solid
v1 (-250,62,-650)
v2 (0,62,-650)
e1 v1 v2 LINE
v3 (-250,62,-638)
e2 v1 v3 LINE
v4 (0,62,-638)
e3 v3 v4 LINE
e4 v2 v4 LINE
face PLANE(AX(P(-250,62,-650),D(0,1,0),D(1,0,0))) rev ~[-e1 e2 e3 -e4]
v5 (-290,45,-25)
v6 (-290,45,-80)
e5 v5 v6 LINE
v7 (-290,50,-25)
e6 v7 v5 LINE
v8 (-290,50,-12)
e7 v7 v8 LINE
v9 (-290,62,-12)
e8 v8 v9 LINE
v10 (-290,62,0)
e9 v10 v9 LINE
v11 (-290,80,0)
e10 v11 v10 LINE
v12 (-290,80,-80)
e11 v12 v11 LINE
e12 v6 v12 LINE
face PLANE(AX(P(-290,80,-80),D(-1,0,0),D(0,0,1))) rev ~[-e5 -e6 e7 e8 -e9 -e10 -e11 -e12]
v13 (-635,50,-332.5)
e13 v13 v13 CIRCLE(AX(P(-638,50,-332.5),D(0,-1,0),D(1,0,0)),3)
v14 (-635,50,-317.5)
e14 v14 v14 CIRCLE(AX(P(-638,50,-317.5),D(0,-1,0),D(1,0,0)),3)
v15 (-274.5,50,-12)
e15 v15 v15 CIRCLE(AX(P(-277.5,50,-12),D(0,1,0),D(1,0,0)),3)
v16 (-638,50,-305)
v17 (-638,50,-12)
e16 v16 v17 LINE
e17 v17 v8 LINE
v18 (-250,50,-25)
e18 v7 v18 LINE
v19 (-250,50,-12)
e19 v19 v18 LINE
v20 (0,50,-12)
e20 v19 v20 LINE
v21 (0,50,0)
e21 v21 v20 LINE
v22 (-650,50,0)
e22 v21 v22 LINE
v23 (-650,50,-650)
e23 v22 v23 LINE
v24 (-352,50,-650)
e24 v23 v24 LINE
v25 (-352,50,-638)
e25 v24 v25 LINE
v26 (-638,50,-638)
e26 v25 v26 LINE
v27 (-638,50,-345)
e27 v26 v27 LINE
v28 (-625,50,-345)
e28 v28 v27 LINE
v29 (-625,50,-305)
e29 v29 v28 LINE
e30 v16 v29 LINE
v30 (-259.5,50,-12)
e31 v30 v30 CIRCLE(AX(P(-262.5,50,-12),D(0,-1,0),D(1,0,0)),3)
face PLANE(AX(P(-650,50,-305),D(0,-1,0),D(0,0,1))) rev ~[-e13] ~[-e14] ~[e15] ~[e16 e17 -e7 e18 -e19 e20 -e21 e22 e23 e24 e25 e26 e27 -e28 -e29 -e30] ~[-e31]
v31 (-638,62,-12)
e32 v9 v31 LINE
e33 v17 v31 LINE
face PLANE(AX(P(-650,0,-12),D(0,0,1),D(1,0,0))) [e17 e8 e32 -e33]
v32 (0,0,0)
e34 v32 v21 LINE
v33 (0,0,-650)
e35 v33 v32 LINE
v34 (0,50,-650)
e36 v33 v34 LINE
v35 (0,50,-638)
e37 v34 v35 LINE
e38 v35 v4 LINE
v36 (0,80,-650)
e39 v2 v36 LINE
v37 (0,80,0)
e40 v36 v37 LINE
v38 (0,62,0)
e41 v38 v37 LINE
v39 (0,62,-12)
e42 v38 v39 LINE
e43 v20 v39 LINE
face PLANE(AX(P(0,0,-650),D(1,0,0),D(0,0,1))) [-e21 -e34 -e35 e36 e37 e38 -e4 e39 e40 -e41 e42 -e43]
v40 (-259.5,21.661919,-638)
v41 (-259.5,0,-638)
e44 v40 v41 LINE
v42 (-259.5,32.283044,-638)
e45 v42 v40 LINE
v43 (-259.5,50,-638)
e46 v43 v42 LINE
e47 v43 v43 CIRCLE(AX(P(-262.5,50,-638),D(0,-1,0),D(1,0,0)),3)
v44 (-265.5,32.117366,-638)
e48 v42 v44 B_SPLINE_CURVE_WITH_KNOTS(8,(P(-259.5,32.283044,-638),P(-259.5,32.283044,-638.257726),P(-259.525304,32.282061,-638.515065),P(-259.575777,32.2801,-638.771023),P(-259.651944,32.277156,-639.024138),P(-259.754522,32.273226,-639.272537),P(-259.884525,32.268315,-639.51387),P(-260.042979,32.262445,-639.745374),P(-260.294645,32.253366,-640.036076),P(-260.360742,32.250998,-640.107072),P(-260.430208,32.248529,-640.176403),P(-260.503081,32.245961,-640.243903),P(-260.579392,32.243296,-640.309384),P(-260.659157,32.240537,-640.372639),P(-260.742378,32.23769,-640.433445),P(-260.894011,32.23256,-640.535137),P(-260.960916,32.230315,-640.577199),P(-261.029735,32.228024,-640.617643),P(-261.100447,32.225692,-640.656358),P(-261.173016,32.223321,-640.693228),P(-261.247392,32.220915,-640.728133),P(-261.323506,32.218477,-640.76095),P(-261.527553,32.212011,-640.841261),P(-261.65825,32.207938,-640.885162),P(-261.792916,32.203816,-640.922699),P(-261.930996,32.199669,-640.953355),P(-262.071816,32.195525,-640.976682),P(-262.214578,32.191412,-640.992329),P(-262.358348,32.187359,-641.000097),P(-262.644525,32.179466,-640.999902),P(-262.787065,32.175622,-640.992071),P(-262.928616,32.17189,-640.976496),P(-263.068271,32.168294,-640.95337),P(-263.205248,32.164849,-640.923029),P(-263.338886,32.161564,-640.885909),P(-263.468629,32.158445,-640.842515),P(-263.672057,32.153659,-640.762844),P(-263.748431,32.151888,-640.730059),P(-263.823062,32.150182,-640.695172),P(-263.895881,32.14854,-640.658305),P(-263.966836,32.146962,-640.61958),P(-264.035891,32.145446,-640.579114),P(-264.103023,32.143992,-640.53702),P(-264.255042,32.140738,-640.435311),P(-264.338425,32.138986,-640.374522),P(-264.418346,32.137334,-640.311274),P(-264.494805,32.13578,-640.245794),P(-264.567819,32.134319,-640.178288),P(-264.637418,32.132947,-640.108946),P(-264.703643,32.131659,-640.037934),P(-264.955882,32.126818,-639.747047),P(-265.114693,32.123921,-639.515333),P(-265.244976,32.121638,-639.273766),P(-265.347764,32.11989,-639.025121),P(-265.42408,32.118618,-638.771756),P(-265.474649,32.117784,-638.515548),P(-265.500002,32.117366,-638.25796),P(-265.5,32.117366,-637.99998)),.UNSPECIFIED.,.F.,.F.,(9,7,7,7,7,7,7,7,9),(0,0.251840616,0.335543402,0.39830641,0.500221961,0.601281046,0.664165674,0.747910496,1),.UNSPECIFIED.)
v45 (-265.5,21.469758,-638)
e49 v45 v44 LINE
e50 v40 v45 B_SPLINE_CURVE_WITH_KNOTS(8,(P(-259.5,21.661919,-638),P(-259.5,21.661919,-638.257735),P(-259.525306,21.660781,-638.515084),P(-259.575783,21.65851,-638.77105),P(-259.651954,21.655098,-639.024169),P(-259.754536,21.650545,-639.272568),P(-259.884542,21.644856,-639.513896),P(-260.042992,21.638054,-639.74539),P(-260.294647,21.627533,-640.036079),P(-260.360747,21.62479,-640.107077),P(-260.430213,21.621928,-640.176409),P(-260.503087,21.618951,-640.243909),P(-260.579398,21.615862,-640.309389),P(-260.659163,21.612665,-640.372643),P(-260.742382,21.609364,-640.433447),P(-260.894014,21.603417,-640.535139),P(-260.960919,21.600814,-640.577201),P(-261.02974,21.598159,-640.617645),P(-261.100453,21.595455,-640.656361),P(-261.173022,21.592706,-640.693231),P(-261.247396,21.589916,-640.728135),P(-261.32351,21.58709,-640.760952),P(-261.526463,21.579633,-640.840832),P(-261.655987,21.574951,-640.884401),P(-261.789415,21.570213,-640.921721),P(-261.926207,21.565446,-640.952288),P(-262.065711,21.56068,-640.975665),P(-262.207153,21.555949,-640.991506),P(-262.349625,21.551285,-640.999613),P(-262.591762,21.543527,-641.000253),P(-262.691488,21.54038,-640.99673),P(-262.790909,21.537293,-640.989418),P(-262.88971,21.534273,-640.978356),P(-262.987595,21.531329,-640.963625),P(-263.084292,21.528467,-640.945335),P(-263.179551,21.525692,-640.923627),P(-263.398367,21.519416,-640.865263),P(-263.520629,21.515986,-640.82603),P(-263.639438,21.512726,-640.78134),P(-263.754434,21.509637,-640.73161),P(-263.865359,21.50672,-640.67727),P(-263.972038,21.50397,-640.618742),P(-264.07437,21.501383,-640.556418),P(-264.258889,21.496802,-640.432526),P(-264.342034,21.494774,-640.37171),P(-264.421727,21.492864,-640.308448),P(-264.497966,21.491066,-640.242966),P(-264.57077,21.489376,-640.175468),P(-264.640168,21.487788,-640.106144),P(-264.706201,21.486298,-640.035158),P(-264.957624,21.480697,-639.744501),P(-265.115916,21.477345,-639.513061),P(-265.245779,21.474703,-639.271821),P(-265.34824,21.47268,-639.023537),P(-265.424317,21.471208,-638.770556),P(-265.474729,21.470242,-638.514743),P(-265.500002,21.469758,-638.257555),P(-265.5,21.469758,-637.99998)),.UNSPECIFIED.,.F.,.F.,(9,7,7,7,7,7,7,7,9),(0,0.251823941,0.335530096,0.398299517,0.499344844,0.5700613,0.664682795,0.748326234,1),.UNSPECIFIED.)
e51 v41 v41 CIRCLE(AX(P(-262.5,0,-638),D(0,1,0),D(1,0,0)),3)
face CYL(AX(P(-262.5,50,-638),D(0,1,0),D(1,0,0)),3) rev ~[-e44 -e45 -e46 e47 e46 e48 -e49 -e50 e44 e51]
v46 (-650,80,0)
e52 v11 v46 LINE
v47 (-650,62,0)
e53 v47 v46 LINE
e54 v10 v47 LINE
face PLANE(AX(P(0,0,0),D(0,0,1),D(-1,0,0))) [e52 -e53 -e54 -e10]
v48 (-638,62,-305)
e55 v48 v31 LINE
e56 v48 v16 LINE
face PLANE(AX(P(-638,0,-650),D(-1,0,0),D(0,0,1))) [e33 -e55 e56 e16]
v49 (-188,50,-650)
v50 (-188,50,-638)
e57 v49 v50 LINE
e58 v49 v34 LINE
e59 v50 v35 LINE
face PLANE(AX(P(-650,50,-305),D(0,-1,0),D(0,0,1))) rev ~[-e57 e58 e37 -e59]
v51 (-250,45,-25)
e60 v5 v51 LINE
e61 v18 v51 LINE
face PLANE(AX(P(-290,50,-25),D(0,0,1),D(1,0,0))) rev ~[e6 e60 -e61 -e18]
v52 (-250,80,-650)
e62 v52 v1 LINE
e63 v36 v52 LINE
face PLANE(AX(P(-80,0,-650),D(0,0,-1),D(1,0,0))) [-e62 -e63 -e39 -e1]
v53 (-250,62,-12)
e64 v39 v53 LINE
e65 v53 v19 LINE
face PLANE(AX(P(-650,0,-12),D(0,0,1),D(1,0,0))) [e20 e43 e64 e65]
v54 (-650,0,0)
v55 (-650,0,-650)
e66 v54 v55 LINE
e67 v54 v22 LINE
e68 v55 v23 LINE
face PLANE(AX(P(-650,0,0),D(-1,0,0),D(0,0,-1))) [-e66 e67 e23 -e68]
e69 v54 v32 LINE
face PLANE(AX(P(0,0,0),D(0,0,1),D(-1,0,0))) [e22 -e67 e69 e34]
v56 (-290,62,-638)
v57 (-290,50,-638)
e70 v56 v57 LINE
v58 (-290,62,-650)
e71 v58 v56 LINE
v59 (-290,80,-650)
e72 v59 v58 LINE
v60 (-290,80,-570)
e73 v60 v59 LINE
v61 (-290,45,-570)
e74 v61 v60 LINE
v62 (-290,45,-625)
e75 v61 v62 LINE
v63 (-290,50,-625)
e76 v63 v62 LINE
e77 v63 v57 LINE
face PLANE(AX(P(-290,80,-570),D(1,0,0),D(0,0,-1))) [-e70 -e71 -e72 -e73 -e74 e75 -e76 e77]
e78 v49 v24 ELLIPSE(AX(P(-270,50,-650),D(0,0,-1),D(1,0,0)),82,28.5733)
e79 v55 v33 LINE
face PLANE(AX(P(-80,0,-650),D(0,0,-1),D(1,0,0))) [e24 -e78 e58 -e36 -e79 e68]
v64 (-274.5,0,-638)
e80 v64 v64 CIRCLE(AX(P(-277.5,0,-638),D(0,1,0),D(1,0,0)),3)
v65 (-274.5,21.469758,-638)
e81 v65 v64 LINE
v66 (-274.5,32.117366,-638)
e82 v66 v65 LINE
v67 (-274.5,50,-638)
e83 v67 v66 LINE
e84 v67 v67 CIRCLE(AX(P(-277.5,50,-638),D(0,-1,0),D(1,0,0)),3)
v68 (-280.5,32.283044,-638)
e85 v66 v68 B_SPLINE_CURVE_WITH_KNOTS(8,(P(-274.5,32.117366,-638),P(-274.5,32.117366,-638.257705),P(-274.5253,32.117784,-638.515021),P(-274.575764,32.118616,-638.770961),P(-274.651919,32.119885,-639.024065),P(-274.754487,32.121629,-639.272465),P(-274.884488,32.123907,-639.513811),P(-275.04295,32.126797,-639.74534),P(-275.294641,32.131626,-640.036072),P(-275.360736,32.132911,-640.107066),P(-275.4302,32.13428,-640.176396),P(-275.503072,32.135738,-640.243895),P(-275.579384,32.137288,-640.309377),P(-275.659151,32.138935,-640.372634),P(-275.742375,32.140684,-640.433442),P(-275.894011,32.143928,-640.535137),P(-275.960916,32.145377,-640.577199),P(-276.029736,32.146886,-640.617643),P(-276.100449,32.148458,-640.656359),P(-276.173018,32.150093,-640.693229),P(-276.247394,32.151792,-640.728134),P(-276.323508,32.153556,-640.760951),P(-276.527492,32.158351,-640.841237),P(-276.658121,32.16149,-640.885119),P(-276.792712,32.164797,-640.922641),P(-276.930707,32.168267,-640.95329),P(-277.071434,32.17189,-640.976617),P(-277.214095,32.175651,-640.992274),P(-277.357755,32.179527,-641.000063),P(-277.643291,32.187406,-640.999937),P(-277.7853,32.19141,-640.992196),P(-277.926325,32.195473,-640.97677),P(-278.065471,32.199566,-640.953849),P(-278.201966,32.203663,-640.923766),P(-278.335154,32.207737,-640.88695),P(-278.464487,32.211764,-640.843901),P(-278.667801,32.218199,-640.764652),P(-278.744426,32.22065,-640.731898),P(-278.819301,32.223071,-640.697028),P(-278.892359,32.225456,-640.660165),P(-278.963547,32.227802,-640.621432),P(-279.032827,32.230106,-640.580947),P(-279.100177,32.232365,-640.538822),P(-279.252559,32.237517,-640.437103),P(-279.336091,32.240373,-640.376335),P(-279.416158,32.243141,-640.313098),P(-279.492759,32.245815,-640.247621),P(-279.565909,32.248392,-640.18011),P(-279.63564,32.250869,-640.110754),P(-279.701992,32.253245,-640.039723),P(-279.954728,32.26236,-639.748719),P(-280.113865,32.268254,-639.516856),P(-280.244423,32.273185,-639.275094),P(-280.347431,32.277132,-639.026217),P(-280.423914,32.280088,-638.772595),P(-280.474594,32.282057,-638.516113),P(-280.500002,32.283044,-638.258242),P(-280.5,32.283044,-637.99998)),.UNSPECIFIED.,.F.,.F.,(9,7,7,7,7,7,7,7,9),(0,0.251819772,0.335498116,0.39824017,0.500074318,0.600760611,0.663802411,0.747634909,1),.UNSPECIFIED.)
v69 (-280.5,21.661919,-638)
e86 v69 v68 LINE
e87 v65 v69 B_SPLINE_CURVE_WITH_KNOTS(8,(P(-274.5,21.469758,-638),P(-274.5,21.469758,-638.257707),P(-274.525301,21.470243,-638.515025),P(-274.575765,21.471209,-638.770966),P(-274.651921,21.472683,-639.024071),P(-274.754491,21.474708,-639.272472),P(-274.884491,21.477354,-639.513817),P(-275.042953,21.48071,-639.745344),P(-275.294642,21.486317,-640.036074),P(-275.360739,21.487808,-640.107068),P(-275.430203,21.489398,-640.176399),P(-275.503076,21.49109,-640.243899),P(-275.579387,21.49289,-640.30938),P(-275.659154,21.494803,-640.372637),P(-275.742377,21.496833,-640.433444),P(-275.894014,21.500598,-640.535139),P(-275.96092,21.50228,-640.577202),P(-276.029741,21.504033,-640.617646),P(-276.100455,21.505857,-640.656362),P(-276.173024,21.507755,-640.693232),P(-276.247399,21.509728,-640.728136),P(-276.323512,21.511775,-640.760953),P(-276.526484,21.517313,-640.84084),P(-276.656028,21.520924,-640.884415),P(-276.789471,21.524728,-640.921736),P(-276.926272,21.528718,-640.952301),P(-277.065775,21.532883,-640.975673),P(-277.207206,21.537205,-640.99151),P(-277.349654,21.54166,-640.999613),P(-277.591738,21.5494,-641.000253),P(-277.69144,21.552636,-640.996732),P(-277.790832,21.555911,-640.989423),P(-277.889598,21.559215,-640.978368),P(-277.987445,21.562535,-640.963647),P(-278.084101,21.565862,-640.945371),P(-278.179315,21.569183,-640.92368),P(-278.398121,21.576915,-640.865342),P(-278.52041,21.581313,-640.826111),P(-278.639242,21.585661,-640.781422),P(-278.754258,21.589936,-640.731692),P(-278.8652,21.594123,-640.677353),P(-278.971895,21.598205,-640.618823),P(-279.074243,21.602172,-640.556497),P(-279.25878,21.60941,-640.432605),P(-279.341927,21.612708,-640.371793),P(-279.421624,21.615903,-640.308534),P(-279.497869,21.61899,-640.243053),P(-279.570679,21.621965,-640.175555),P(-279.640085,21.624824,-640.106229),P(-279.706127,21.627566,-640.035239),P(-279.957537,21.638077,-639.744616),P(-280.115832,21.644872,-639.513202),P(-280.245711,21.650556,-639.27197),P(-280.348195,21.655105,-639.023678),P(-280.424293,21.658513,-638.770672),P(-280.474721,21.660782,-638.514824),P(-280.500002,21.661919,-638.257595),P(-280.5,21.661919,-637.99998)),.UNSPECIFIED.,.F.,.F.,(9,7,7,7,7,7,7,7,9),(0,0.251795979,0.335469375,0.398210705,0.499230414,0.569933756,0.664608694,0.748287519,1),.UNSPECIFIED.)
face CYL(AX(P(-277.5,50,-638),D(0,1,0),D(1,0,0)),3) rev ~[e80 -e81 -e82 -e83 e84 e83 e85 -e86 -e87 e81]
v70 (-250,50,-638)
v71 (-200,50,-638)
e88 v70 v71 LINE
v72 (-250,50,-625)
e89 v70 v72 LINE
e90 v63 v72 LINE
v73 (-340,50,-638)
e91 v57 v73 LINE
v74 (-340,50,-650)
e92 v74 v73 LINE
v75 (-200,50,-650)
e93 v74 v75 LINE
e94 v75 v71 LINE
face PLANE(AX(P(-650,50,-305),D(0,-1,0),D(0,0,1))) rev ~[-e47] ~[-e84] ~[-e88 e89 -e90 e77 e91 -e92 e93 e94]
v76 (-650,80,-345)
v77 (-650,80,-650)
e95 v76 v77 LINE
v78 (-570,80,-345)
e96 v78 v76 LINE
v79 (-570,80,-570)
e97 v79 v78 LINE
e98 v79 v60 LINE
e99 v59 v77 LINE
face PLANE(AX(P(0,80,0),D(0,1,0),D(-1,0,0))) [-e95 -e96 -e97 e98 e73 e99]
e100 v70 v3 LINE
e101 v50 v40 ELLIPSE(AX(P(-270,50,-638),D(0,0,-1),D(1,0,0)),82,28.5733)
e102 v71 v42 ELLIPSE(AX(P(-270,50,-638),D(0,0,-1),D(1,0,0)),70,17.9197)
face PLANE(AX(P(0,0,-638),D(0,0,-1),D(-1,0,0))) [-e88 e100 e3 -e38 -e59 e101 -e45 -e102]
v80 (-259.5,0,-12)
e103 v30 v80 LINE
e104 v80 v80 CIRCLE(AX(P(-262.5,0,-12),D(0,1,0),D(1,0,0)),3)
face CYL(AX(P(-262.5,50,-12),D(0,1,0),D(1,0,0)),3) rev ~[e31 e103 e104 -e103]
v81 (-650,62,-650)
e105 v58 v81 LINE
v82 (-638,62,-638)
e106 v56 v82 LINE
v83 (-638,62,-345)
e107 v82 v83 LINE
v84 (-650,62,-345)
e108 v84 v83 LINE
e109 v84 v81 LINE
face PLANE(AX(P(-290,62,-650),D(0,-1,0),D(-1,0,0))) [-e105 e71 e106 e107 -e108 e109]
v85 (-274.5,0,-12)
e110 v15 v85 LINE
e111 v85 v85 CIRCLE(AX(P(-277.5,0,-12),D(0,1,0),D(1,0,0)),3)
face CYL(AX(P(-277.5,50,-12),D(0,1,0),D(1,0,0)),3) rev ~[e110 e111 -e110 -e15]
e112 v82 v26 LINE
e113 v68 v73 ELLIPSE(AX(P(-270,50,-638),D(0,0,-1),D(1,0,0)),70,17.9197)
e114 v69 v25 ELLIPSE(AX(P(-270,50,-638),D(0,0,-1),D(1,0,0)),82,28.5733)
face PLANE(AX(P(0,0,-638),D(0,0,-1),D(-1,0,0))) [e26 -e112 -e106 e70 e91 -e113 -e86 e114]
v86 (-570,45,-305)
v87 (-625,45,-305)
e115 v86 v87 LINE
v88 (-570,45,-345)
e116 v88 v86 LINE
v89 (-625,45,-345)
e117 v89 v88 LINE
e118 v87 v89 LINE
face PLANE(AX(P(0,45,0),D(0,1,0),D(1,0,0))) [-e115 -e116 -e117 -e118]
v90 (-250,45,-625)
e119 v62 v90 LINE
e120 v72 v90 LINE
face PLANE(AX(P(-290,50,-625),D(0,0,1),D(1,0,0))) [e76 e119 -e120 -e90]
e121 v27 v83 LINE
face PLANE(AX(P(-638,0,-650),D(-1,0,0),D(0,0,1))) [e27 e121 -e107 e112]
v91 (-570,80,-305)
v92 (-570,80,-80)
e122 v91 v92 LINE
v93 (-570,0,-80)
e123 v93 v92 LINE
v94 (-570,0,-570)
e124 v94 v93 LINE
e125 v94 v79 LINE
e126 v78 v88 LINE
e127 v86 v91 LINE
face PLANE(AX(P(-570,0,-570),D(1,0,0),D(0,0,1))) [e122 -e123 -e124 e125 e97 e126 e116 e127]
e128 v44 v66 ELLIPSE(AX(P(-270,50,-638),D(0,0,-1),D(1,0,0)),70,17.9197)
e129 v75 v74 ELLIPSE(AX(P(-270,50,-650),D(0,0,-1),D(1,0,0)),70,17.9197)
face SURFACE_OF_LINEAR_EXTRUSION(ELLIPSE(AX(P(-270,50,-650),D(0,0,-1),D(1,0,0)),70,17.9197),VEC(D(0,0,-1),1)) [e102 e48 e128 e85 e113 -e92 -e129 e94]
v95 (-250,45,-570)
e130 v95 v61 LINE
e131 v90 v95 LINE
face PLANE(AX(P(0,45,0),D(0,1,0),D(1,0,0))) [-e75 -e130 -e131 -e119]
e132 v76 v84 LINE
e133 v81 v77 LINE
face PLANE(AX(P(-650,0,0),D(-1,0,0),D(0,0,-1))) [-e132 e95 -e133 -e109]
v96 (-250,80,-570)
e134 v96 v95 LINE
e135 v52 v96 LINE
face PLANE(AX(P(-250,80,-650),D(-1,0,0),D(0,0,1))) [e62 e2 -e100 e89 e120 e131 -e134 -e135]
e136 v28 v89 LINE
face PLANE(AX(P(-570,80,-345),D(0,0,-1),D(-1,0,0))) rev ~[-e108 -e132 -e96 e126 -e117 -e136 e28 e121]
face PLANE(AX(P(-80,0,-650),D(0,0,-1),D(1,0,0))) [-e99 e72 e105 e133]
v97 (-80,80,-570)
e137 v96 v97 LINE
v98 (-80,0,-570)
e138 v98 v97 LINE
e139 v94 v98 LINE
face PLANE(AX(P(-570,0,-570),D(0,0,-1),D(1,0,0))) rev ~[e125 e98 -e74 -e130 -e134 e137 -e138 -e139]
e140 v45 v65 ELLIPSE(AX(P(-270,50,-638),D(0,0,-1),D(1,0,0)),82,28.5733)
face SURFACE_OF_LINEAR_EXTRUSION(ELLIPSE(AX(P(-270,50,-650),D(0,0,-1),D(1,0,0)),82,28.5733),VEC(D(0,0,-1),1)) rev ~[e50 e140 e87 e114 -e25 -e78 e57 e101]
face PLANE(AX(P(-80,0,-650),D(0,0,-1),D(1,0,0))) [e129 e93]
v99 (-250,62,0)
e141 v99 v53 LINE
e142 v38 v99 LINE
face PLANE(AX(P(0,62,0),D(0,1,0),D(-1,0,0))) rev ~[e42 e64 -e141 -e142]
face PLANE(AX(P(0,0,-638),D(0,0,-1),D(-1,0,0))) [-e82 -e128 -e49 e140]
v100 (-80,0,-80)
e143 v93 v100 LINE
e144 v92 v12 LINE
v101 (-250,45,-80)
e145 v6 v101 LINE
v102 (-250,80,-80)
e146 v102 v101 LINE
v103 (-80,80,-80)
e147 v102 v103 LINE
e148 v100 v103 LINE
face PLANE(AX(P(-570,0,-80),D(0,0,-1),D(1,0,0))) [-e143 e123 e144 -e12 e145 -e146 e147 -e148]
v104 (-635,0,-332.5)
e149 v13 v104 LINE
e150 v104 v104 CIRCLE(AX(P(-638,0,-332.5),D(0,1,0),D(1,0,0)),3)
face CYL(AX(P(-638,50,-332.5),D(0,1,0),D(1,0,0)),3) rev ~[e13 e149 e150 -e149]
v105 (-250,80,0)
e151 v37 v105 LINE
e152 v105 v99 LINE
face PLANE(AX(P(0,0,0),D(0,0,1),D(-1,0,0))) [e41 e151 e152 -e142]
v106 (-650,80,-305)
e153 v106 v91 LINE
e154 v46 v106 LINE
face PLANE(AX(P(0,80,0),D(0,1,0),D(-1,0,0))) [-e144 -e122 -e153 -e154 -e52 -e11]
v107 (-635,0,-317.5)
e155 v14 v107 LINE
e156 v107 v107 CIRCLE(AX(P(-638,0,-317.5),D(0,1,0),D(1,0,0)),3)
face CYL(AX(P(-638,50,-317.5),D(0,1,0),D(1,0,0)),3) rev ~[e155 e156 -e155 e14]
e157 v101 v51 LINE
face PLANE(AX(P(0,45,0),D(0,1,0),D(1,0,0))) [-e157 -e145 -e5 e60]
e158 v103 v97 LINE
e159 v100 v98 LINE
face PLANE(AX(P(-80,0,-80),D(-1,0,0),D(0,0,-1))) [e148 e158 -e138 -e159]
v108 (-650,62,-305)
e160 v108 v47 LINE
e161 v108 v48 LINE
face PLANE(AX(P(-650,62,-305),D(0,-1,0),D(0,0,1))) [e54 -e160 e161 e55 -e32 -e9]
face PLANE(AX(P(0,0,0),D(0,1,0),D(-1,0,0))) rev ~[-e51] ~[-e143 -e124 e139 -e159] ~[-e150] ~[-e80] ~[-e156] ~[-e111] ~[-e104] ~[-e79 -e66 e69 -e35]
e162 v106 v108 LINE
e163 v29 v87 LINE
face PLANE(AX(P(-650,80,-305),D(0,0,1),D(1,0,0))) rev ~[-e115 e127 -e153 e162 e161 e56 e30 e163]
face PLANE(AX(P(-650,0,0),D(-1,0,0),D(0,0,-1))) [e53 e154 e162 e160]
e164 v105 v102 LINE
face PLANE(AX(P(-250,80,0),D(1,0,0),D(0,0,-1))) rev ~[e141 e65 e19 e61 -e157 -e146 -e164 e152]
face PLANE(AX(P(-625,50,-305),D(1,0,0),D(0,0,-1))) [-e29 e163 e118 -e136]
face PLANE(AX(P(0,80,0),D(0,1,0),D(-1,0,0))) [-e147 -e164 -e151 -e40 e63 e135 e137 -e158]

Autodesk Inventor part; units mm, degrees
ref_plane "YZ Plane" through (0, 0, 0) normal (1, 0, 0) x (0, 1, 0)
ref_plane "XZ Plane" through (0, 0, 0) normal (0, 1, 0) x (-1, 0, 0)
ref_plane "XY Plane" through (0, 0, 0) normal (0, 0, 1) x (1, 0, 0)
sketch "Skizze1" plane through (0, 0, 0) normal (0, 1, 0) x (-1, 0, 0)
  line L0 (0, 0) -> (80, 0)
  line L1 (80, 0) -> (80, -650)
  line L2 (80, -650) -> (0, -650)
  line L3 (0, -650) -> (0, 0)
  line L4 (80, -570) -> (80, -650)
  line L5 (80, -650) -> (570, -650)
  line L6 (570, -650) -> (570, -570)
  line L7 (570, -570) -> (80, -570)
  line L8 (80, -570) -> (80, -650)
  line L9 (80, 0) -> (570, 0)
  line L10 (570, 0) -> (570, -80)
  line L11 (570, -80) -> (80, -80)
  line L12 (80, -80) -> (80, 0)
  line L13 (570, 0) -> (650, 0)
  line L14 (650, 0) -> (650, -650)
  line L15 (650, -650) -> (570, -650)
  line L16 (570, -650) -> (570, 0)
  dimension "d0" = 80
  dimension "d1" = 650
  dimension "d4" = 490
  dimension "d5" = 80
  dimension "d6" = 80
  dimension "d7" = 80
extrude "Extrusion1" add sketch "Skizze1" along normal blind 80 contours L0 L1 L2 L3 | L9 L10 L11 L1 | L13 L14 L15 L6 L16 L10 | L1 L7 L6 L5
sketch "Skizze2" plane through (0, 80, 0) normal (0, 1, 0) x (1, 0, 0)
  line L0 (0, 0) -> (0, 650) projected
  line L1 (0, 650) -> (-650, 650) projected
  line L2 (-650, 650) -> (-650, 0) projected
  line L3 (-650, 0) -> (0, 0) projected
  line L4 (-80, 80) -> (-570, 80) projected
  line L5 (-570, 80) -> (-570, 570) projected
  line L6 (-570, 570) -> (-80, 570) projected
  line L7 (-80, 570) -> (-80, 80) projected
  line L8 (-490, 305) -> (-490, 345)
  line L9 (-490, 345) -> (-650, 345)
  line L10 (-650, 345) -> (-650, 305)
  line L11 (-650, 305) -> (-490, 305)
  line L12 (-570, 80) -> (-570, 570) projected
  line L13 (-490, 305) -> (-650, 345) construction
  line L14 (-490, 345) -> (-650, 305) construction
  line L15 (-80, 80) -> (-570, 80) projected
  line L16 (-570, 80) -> (-270, 80)
  line L17 (-250, 160) -> (-290, 160)
  line L18 (-290, 160) -> (-290, 0)
  line L19 (-290, 0) -> (-250, 0)
  line L20 (-250, 0) -> (-250, 160)
  line L21 (-250, 160) -> (-290, 0) construction
  line L22 (-290, 160) -> (-250, 0) construction
  line L23 (-650, 325) -> (0, 325)
  line L24 (-250, 490) -> (-290, 490)
  line L25 (-290, 490) -> (-290, 650)
  line L26 (-250, 650) -> (-250, 490)
  line L27 (-290, 650) -> (-250, 650)
  point P0 (-570, 325)
  point P1 (-250, 570)
  point P2 (-290, 570)
  point P3 (-570, 345)
  point P4 (-570, 305)
  point P5 (-250, 80)
  point P6 (-290, 80)
  dimension "d10" = 40
  dimension "d11" = 300
  dimension "d12" = 40
extrude "Extrusion2" cut sketch "Skizze2" against normal blind 30 contours L3 L18 L4 L20 | L26 L6 L25 L1 | L23 L2 L9 L5 | L5 L11 L2 L23
sketch "Skizze3" plane through (0, 50, 0) normal (0, 1, 0) x (1, 0, 0)
  line L0 (-290, 80) -> (-250, 80) projected
  line L1 (-290, 0) -> (-290, 80) projected
  line L2 (-250, 0) -> (-290, 0) projected
  line L3 (-250, 80) -> (-250, 0) projected
  line L4 (-290, 650) -> (-250, 650) projected
  line L5 (-290, 570) -> (-290, 650) projected
  line L6 (-250, 570) -> (-290, 570) projected
  line L7 (-250, 650) -> (-250, 570) projected
  line L8 (-650, 345) -> (-570, 345) projected
  line L9 (-650, 305) -> (-650, 345) projected
  line L10 (-570, 305) -> (-650, 305) projected
  line L11 (-570, 345) -> (-570, 305) projected
  line L12 (-650, 305) -> (-625, 305)
  line L13 (-570, 305) -> (-650, 305) projected
  line L14 (-625, 305) -> (-625, 345)
  line L15 (-290, 650) -> (-290, 625)
  line L16 (-290, 570) -> (-290, 650) projected
  line L17 (-290, 625) -> (-250, 625)
  line L18 (-290, 0) -> (-290, 25)
  line L19 (-290, 25) -> (-250, 25)
  point P0 (0, 0)
  dimension "d15" = 25
  dimension "d16" = 25
  dimension "d17" = 25
extrude "Extrusion3" cut sketch "Skizze3" against normal blind 5 contours L0 L3 L19 L1 | L17 L7 L6 L5 | L8 L11 L10 L14
sketch "Skizze4" plane through (0, 0, -650) normal (0, 0, -1) x (-1, 0, 0)
  line L0 (290, 80) -> (290, 50) projected
  line L1 (290, 50) -> (250, 50) projected
  line L2 (250, 50) -> (250, 80) projected
  line L3 (0, 80) -> (250, 80) projected
  line L4 (0, 0) -> (0, 80) projected
  line L5 (0, 0) -> (650, 0) projected
  line L6 (650, 0) -> (650, 80) projected
  line L7 (290, 80) -> (650, 80) projected
  line L8 (250, 50) -> (250, 45) projected
  line L9 (250, 50) -> (0, 50)
  line L10 (0, 0) -> (0, 80) projected
  line L11 (290, 50) -> (250, 50) projected
  line L12 (250, 50) -> (250, 62)
  line L13 (250, 62) -> (0, 62)
  line L14 (290, 50) -> (650, 50)
  line L15 (290, 62) -> (650, 62)
  dimension "d20" = 12
extrude "Extrusion4" cut sketch "Skizze4" against normal blind 12 contours L15 L6 L14 L0 | L9 L4 L13 L2
sketch "Skizze5" plane through (-650, 0, -650) normal (-1, 0, 0) x (0, 0, 1)
  line L0 (12, 50) -> (0, 50) projected
  line L1 (0, 0) -> (0, 50) projected
  line L2 (0, 0) -> (650, 0) projected
  line L3 (650, 0) -> (650, 80) projected
  line L4 (345, 80) -> (650, 80) projected
  line L5 (345, 80) -> (345, 50) projected
  line L6 (345, 50) -> (305, 50) projected
  line L7 (305, 50) -> (305, 80) projected
  line L8 (0, 80) -> (305, 80) projected
  line L9 (0, 62) -> (0, 80) projected
  line L10 (0, 62) -> (12, 62) projected
  line L11 (12, 62) -> (12, 50) projected
  line L12 (12, 50) -> (650, 50)
  line L13 (12, 62) -> (650, 62)
  point P0 (345, 62)
  point P1 (305, 62)
extrude "Extrusion5" cut sketch "Skizze5" against normal blind 12 contours L11 L13 L7 L12 | L5 L13 L3 L12
sketch "Skizze6" plane through (-650, 0, 0) normal (0, 0, 1) x (1, 0, 0)
  line L0 (12, 50) -> (12, 62) projected
  line L1 (12, 50) -> (650, 50)
  line L2 (360, 62) -> (12, 62) projected
  line L3 (650, 62) -> (400, 62) projected
  line L4 (12, 50) -> (0, 50) projected
  line L5 (0, 0) -> (0, 50) projected
  line L6 (0, 0) -> (650, 0) projected
  line L7 (650, 0) -> (650, 80) projected
  line L8 (400, 80) -> (650, 80) projected
  line L9 (400, 80) -> (400, 50) projected
  line L10 (400, 50) -> (360, 50) projected
  line L11 (360, 50) -> (360, 80) projected
  line L12 (0, 80) -> (360, 80) projected
  line L13 (0, 62) -> (0, 80) projected
  line L14 (0, 62) -> (12, 62) projected
  line L15 (12, 62) -> (12, 50) projected
extrude "Extrusion6" cut sketch "Skizze6" against normal blind 12 contours L0 L2 L11 L1 | L9 L3 L7 L1
sketch "Skizze7" plane through (0, 0, -650) normal (0, 0, -1) x (-1, 0, 0)
  line L0 (650, 50) -> (0, 50) projected
  line L1 (0, 0) -> (0, 50) projected
  line L2 (0, 0) -> (650, 0) projected
  line L3 (650, 0) -> (650, 50) projected
  line L4 (0, 50) -> (0, 62) projected
  line L5 (250, 50) -> (0, 50) projected
  line L6 (250, 62) -> (250, 50) projected
  line L7 (0, 62) -> (250, 62) projected
  line L8 (0, 62) -> (250, 62) projected
  line L9 (250, 62) -> (250, 80) projected
  line L10 (0, 80) -> (250, 80) projected
  line L11 (0, 62) -> (0, 80) projected
  line L12 (290, 62) -> (650, 62) projected
  line L13 (650, 62) -> (650, 80) projected
  line L14 (290, 80) -> (650, 80) projected
  line L15 (290, 80) -> (290, 62) projected
  line L16 (638, 50) -> (638, 62) projected
  line L17 (290, 62) -> (638, 62) projected
  line L18 (290, 50) -> (290, 62) projected
  line L19 (638, 50) -> (290, 50) projected
  line L20 (250, 50) -> (200, 50)
  line L21 (290, 50) -> (340, 50)
  line L22 (250, 50) -> (290, 50) projected
  ellipse E0 centre (270, 50) end of major axis (200, 50) minor radius 17.9197
  line L23 (200, 50) -> (188, 50)
  line L24 (250, 62) -> (0, 62) projected
  line L25 (218.0128, 62) -> (213.5364, 73.1338)
  ellipse E1 centre (270, 50) end of major axis (188, 50) minor radius 28.5733
  point P0 (352, 50)
  dimension "d27" = 50
  dimension "d28" = 50
  dimension "d29" = 12
  dimension "d30" = 12
extrude "Extrusion7" cut sketch "Skizze7" against normal blind 12 contours E1 L0 E0
sketch "Skizze8" plane through (0, 50, 0) normal (0, 1, 0) x (1, 0, 0)
  line L0 (-352, 638) -> (-352, 650) projected
  line L1 (-650, 650) -> (-352, 650) projected
  line L2 (-650, 0) -> (-650, 650) projected
  line L3 (0, 0) -> (-650, 0) projected
  line L4 (0, 12) -> (0, 0) projected
  line L5 (0, 12) -> (-250, 12) projected
  line L6 (-250, 25) -> (-250, 12) projected
  line L7 (-250, 25) -> (-290, 25) projected
  line L8 (-290, 12) -> (-290, 25) projected
  line L9 (-290, 12) -> (-638, 12) projected
  line L10 (-638, 12) -> (-638, 305) projected
  line L11 (-625, 305) -> (-638, 305) projected
  line L12 (-625, 305) -> (-625, 345) projected
  line L13 (-638, 345) -> (-625, 345) projected
  line L14 (-638, 345) -> (-638, 638) projected
  line L15 (-638, 638) -> (-352, 638) projected
  line L16 (-290, 25) -> (-290, 80) projected
  line L17 (-250, 25) -> (-290, 25) projected
  line L18 (-250, 80) -> (-250, 25) projected
  line L19 (-290, 80) -> (-250, 80) projected
  line L20 (-290, 0) -> (-290, 12) projected
  line L21 (-290, 12) -> (-290, 0)
  line L22 (0, 12) -> (-250, 12) projected
  line L23 (-250, 80) -> (-250, 0) projected
  line L24 (-250, 12) -> (-250, 0)
  line L25 (-250, 12) -> (-262.5, 12)
  line L26 (-262.5, 12) -> (-277.5, 12)
  circle A0 centre (-277.5, 12) radius 3
  circle A1 centre (-262.5, 12) radius 3
  line L27 (-638, 305) -> (-638, 317.5)
  line L28 (-638, 317.5) -> (-638, 332.5)
  circle A2 centre (-638, 317.5) radius 3
  circle A3 centre (-638, 332.5) radius 3
  line L29 (-340, 650) -> (-340, 638) projected
  line L30 (-340, 638) -> (-290, 638) projected
  line L31 (-290, 625) -> (-290, 638) projected
  line L32 (-290, 625) -> (-250, 625) projected
  line L33 (-250, 638) -> (-250, 625) projected
  line L34 (-250, 638) -> (-200, 638) projected
  line L35 (-200, 638) -> (-200, 650) projected
  line L36 (-340, 650) -> (-200, 650) projected
  line L37 (-290, 638) -> (-290, 625.5)
  line L38 (-290, 570) -> (-290, 650) projected
  line L39 (-290, 638) -> (-277.5, 638)
  line L40 (-277.5, 638) -> (-262.5, 638)
  circle A4 centre (-277.5, 638) radius 3
  circle A5 centre (-262.5, 638) radius 3
  dimension "d35" = 12.5
  dimension "d36" = 15
  dimension "d37" = 6
  dimension "d38" = 6
  dimension "d39" = 12.5
  dimension "d40" = 15
  dimension "d41" = 6
  dimension "d42" = 6
  dimension "d43" = 12.5
  dimension "d44" = 12.5
  dimension "d45" = 15
  dimension "d46" = 6
  dimension "d47" = 6
extrude "Extrusion8" cut sketch "Skizze8" against normal blind 100 contours A3 | A2 L28 L27 | L27 L28 A2 | A0 | A1 L26 L25 | L25 L26 A1 | A5 | A4 L40 L39 | L39 L40 A4
properties part number "Rahmen_Unten" material "Holz (Birke)"
